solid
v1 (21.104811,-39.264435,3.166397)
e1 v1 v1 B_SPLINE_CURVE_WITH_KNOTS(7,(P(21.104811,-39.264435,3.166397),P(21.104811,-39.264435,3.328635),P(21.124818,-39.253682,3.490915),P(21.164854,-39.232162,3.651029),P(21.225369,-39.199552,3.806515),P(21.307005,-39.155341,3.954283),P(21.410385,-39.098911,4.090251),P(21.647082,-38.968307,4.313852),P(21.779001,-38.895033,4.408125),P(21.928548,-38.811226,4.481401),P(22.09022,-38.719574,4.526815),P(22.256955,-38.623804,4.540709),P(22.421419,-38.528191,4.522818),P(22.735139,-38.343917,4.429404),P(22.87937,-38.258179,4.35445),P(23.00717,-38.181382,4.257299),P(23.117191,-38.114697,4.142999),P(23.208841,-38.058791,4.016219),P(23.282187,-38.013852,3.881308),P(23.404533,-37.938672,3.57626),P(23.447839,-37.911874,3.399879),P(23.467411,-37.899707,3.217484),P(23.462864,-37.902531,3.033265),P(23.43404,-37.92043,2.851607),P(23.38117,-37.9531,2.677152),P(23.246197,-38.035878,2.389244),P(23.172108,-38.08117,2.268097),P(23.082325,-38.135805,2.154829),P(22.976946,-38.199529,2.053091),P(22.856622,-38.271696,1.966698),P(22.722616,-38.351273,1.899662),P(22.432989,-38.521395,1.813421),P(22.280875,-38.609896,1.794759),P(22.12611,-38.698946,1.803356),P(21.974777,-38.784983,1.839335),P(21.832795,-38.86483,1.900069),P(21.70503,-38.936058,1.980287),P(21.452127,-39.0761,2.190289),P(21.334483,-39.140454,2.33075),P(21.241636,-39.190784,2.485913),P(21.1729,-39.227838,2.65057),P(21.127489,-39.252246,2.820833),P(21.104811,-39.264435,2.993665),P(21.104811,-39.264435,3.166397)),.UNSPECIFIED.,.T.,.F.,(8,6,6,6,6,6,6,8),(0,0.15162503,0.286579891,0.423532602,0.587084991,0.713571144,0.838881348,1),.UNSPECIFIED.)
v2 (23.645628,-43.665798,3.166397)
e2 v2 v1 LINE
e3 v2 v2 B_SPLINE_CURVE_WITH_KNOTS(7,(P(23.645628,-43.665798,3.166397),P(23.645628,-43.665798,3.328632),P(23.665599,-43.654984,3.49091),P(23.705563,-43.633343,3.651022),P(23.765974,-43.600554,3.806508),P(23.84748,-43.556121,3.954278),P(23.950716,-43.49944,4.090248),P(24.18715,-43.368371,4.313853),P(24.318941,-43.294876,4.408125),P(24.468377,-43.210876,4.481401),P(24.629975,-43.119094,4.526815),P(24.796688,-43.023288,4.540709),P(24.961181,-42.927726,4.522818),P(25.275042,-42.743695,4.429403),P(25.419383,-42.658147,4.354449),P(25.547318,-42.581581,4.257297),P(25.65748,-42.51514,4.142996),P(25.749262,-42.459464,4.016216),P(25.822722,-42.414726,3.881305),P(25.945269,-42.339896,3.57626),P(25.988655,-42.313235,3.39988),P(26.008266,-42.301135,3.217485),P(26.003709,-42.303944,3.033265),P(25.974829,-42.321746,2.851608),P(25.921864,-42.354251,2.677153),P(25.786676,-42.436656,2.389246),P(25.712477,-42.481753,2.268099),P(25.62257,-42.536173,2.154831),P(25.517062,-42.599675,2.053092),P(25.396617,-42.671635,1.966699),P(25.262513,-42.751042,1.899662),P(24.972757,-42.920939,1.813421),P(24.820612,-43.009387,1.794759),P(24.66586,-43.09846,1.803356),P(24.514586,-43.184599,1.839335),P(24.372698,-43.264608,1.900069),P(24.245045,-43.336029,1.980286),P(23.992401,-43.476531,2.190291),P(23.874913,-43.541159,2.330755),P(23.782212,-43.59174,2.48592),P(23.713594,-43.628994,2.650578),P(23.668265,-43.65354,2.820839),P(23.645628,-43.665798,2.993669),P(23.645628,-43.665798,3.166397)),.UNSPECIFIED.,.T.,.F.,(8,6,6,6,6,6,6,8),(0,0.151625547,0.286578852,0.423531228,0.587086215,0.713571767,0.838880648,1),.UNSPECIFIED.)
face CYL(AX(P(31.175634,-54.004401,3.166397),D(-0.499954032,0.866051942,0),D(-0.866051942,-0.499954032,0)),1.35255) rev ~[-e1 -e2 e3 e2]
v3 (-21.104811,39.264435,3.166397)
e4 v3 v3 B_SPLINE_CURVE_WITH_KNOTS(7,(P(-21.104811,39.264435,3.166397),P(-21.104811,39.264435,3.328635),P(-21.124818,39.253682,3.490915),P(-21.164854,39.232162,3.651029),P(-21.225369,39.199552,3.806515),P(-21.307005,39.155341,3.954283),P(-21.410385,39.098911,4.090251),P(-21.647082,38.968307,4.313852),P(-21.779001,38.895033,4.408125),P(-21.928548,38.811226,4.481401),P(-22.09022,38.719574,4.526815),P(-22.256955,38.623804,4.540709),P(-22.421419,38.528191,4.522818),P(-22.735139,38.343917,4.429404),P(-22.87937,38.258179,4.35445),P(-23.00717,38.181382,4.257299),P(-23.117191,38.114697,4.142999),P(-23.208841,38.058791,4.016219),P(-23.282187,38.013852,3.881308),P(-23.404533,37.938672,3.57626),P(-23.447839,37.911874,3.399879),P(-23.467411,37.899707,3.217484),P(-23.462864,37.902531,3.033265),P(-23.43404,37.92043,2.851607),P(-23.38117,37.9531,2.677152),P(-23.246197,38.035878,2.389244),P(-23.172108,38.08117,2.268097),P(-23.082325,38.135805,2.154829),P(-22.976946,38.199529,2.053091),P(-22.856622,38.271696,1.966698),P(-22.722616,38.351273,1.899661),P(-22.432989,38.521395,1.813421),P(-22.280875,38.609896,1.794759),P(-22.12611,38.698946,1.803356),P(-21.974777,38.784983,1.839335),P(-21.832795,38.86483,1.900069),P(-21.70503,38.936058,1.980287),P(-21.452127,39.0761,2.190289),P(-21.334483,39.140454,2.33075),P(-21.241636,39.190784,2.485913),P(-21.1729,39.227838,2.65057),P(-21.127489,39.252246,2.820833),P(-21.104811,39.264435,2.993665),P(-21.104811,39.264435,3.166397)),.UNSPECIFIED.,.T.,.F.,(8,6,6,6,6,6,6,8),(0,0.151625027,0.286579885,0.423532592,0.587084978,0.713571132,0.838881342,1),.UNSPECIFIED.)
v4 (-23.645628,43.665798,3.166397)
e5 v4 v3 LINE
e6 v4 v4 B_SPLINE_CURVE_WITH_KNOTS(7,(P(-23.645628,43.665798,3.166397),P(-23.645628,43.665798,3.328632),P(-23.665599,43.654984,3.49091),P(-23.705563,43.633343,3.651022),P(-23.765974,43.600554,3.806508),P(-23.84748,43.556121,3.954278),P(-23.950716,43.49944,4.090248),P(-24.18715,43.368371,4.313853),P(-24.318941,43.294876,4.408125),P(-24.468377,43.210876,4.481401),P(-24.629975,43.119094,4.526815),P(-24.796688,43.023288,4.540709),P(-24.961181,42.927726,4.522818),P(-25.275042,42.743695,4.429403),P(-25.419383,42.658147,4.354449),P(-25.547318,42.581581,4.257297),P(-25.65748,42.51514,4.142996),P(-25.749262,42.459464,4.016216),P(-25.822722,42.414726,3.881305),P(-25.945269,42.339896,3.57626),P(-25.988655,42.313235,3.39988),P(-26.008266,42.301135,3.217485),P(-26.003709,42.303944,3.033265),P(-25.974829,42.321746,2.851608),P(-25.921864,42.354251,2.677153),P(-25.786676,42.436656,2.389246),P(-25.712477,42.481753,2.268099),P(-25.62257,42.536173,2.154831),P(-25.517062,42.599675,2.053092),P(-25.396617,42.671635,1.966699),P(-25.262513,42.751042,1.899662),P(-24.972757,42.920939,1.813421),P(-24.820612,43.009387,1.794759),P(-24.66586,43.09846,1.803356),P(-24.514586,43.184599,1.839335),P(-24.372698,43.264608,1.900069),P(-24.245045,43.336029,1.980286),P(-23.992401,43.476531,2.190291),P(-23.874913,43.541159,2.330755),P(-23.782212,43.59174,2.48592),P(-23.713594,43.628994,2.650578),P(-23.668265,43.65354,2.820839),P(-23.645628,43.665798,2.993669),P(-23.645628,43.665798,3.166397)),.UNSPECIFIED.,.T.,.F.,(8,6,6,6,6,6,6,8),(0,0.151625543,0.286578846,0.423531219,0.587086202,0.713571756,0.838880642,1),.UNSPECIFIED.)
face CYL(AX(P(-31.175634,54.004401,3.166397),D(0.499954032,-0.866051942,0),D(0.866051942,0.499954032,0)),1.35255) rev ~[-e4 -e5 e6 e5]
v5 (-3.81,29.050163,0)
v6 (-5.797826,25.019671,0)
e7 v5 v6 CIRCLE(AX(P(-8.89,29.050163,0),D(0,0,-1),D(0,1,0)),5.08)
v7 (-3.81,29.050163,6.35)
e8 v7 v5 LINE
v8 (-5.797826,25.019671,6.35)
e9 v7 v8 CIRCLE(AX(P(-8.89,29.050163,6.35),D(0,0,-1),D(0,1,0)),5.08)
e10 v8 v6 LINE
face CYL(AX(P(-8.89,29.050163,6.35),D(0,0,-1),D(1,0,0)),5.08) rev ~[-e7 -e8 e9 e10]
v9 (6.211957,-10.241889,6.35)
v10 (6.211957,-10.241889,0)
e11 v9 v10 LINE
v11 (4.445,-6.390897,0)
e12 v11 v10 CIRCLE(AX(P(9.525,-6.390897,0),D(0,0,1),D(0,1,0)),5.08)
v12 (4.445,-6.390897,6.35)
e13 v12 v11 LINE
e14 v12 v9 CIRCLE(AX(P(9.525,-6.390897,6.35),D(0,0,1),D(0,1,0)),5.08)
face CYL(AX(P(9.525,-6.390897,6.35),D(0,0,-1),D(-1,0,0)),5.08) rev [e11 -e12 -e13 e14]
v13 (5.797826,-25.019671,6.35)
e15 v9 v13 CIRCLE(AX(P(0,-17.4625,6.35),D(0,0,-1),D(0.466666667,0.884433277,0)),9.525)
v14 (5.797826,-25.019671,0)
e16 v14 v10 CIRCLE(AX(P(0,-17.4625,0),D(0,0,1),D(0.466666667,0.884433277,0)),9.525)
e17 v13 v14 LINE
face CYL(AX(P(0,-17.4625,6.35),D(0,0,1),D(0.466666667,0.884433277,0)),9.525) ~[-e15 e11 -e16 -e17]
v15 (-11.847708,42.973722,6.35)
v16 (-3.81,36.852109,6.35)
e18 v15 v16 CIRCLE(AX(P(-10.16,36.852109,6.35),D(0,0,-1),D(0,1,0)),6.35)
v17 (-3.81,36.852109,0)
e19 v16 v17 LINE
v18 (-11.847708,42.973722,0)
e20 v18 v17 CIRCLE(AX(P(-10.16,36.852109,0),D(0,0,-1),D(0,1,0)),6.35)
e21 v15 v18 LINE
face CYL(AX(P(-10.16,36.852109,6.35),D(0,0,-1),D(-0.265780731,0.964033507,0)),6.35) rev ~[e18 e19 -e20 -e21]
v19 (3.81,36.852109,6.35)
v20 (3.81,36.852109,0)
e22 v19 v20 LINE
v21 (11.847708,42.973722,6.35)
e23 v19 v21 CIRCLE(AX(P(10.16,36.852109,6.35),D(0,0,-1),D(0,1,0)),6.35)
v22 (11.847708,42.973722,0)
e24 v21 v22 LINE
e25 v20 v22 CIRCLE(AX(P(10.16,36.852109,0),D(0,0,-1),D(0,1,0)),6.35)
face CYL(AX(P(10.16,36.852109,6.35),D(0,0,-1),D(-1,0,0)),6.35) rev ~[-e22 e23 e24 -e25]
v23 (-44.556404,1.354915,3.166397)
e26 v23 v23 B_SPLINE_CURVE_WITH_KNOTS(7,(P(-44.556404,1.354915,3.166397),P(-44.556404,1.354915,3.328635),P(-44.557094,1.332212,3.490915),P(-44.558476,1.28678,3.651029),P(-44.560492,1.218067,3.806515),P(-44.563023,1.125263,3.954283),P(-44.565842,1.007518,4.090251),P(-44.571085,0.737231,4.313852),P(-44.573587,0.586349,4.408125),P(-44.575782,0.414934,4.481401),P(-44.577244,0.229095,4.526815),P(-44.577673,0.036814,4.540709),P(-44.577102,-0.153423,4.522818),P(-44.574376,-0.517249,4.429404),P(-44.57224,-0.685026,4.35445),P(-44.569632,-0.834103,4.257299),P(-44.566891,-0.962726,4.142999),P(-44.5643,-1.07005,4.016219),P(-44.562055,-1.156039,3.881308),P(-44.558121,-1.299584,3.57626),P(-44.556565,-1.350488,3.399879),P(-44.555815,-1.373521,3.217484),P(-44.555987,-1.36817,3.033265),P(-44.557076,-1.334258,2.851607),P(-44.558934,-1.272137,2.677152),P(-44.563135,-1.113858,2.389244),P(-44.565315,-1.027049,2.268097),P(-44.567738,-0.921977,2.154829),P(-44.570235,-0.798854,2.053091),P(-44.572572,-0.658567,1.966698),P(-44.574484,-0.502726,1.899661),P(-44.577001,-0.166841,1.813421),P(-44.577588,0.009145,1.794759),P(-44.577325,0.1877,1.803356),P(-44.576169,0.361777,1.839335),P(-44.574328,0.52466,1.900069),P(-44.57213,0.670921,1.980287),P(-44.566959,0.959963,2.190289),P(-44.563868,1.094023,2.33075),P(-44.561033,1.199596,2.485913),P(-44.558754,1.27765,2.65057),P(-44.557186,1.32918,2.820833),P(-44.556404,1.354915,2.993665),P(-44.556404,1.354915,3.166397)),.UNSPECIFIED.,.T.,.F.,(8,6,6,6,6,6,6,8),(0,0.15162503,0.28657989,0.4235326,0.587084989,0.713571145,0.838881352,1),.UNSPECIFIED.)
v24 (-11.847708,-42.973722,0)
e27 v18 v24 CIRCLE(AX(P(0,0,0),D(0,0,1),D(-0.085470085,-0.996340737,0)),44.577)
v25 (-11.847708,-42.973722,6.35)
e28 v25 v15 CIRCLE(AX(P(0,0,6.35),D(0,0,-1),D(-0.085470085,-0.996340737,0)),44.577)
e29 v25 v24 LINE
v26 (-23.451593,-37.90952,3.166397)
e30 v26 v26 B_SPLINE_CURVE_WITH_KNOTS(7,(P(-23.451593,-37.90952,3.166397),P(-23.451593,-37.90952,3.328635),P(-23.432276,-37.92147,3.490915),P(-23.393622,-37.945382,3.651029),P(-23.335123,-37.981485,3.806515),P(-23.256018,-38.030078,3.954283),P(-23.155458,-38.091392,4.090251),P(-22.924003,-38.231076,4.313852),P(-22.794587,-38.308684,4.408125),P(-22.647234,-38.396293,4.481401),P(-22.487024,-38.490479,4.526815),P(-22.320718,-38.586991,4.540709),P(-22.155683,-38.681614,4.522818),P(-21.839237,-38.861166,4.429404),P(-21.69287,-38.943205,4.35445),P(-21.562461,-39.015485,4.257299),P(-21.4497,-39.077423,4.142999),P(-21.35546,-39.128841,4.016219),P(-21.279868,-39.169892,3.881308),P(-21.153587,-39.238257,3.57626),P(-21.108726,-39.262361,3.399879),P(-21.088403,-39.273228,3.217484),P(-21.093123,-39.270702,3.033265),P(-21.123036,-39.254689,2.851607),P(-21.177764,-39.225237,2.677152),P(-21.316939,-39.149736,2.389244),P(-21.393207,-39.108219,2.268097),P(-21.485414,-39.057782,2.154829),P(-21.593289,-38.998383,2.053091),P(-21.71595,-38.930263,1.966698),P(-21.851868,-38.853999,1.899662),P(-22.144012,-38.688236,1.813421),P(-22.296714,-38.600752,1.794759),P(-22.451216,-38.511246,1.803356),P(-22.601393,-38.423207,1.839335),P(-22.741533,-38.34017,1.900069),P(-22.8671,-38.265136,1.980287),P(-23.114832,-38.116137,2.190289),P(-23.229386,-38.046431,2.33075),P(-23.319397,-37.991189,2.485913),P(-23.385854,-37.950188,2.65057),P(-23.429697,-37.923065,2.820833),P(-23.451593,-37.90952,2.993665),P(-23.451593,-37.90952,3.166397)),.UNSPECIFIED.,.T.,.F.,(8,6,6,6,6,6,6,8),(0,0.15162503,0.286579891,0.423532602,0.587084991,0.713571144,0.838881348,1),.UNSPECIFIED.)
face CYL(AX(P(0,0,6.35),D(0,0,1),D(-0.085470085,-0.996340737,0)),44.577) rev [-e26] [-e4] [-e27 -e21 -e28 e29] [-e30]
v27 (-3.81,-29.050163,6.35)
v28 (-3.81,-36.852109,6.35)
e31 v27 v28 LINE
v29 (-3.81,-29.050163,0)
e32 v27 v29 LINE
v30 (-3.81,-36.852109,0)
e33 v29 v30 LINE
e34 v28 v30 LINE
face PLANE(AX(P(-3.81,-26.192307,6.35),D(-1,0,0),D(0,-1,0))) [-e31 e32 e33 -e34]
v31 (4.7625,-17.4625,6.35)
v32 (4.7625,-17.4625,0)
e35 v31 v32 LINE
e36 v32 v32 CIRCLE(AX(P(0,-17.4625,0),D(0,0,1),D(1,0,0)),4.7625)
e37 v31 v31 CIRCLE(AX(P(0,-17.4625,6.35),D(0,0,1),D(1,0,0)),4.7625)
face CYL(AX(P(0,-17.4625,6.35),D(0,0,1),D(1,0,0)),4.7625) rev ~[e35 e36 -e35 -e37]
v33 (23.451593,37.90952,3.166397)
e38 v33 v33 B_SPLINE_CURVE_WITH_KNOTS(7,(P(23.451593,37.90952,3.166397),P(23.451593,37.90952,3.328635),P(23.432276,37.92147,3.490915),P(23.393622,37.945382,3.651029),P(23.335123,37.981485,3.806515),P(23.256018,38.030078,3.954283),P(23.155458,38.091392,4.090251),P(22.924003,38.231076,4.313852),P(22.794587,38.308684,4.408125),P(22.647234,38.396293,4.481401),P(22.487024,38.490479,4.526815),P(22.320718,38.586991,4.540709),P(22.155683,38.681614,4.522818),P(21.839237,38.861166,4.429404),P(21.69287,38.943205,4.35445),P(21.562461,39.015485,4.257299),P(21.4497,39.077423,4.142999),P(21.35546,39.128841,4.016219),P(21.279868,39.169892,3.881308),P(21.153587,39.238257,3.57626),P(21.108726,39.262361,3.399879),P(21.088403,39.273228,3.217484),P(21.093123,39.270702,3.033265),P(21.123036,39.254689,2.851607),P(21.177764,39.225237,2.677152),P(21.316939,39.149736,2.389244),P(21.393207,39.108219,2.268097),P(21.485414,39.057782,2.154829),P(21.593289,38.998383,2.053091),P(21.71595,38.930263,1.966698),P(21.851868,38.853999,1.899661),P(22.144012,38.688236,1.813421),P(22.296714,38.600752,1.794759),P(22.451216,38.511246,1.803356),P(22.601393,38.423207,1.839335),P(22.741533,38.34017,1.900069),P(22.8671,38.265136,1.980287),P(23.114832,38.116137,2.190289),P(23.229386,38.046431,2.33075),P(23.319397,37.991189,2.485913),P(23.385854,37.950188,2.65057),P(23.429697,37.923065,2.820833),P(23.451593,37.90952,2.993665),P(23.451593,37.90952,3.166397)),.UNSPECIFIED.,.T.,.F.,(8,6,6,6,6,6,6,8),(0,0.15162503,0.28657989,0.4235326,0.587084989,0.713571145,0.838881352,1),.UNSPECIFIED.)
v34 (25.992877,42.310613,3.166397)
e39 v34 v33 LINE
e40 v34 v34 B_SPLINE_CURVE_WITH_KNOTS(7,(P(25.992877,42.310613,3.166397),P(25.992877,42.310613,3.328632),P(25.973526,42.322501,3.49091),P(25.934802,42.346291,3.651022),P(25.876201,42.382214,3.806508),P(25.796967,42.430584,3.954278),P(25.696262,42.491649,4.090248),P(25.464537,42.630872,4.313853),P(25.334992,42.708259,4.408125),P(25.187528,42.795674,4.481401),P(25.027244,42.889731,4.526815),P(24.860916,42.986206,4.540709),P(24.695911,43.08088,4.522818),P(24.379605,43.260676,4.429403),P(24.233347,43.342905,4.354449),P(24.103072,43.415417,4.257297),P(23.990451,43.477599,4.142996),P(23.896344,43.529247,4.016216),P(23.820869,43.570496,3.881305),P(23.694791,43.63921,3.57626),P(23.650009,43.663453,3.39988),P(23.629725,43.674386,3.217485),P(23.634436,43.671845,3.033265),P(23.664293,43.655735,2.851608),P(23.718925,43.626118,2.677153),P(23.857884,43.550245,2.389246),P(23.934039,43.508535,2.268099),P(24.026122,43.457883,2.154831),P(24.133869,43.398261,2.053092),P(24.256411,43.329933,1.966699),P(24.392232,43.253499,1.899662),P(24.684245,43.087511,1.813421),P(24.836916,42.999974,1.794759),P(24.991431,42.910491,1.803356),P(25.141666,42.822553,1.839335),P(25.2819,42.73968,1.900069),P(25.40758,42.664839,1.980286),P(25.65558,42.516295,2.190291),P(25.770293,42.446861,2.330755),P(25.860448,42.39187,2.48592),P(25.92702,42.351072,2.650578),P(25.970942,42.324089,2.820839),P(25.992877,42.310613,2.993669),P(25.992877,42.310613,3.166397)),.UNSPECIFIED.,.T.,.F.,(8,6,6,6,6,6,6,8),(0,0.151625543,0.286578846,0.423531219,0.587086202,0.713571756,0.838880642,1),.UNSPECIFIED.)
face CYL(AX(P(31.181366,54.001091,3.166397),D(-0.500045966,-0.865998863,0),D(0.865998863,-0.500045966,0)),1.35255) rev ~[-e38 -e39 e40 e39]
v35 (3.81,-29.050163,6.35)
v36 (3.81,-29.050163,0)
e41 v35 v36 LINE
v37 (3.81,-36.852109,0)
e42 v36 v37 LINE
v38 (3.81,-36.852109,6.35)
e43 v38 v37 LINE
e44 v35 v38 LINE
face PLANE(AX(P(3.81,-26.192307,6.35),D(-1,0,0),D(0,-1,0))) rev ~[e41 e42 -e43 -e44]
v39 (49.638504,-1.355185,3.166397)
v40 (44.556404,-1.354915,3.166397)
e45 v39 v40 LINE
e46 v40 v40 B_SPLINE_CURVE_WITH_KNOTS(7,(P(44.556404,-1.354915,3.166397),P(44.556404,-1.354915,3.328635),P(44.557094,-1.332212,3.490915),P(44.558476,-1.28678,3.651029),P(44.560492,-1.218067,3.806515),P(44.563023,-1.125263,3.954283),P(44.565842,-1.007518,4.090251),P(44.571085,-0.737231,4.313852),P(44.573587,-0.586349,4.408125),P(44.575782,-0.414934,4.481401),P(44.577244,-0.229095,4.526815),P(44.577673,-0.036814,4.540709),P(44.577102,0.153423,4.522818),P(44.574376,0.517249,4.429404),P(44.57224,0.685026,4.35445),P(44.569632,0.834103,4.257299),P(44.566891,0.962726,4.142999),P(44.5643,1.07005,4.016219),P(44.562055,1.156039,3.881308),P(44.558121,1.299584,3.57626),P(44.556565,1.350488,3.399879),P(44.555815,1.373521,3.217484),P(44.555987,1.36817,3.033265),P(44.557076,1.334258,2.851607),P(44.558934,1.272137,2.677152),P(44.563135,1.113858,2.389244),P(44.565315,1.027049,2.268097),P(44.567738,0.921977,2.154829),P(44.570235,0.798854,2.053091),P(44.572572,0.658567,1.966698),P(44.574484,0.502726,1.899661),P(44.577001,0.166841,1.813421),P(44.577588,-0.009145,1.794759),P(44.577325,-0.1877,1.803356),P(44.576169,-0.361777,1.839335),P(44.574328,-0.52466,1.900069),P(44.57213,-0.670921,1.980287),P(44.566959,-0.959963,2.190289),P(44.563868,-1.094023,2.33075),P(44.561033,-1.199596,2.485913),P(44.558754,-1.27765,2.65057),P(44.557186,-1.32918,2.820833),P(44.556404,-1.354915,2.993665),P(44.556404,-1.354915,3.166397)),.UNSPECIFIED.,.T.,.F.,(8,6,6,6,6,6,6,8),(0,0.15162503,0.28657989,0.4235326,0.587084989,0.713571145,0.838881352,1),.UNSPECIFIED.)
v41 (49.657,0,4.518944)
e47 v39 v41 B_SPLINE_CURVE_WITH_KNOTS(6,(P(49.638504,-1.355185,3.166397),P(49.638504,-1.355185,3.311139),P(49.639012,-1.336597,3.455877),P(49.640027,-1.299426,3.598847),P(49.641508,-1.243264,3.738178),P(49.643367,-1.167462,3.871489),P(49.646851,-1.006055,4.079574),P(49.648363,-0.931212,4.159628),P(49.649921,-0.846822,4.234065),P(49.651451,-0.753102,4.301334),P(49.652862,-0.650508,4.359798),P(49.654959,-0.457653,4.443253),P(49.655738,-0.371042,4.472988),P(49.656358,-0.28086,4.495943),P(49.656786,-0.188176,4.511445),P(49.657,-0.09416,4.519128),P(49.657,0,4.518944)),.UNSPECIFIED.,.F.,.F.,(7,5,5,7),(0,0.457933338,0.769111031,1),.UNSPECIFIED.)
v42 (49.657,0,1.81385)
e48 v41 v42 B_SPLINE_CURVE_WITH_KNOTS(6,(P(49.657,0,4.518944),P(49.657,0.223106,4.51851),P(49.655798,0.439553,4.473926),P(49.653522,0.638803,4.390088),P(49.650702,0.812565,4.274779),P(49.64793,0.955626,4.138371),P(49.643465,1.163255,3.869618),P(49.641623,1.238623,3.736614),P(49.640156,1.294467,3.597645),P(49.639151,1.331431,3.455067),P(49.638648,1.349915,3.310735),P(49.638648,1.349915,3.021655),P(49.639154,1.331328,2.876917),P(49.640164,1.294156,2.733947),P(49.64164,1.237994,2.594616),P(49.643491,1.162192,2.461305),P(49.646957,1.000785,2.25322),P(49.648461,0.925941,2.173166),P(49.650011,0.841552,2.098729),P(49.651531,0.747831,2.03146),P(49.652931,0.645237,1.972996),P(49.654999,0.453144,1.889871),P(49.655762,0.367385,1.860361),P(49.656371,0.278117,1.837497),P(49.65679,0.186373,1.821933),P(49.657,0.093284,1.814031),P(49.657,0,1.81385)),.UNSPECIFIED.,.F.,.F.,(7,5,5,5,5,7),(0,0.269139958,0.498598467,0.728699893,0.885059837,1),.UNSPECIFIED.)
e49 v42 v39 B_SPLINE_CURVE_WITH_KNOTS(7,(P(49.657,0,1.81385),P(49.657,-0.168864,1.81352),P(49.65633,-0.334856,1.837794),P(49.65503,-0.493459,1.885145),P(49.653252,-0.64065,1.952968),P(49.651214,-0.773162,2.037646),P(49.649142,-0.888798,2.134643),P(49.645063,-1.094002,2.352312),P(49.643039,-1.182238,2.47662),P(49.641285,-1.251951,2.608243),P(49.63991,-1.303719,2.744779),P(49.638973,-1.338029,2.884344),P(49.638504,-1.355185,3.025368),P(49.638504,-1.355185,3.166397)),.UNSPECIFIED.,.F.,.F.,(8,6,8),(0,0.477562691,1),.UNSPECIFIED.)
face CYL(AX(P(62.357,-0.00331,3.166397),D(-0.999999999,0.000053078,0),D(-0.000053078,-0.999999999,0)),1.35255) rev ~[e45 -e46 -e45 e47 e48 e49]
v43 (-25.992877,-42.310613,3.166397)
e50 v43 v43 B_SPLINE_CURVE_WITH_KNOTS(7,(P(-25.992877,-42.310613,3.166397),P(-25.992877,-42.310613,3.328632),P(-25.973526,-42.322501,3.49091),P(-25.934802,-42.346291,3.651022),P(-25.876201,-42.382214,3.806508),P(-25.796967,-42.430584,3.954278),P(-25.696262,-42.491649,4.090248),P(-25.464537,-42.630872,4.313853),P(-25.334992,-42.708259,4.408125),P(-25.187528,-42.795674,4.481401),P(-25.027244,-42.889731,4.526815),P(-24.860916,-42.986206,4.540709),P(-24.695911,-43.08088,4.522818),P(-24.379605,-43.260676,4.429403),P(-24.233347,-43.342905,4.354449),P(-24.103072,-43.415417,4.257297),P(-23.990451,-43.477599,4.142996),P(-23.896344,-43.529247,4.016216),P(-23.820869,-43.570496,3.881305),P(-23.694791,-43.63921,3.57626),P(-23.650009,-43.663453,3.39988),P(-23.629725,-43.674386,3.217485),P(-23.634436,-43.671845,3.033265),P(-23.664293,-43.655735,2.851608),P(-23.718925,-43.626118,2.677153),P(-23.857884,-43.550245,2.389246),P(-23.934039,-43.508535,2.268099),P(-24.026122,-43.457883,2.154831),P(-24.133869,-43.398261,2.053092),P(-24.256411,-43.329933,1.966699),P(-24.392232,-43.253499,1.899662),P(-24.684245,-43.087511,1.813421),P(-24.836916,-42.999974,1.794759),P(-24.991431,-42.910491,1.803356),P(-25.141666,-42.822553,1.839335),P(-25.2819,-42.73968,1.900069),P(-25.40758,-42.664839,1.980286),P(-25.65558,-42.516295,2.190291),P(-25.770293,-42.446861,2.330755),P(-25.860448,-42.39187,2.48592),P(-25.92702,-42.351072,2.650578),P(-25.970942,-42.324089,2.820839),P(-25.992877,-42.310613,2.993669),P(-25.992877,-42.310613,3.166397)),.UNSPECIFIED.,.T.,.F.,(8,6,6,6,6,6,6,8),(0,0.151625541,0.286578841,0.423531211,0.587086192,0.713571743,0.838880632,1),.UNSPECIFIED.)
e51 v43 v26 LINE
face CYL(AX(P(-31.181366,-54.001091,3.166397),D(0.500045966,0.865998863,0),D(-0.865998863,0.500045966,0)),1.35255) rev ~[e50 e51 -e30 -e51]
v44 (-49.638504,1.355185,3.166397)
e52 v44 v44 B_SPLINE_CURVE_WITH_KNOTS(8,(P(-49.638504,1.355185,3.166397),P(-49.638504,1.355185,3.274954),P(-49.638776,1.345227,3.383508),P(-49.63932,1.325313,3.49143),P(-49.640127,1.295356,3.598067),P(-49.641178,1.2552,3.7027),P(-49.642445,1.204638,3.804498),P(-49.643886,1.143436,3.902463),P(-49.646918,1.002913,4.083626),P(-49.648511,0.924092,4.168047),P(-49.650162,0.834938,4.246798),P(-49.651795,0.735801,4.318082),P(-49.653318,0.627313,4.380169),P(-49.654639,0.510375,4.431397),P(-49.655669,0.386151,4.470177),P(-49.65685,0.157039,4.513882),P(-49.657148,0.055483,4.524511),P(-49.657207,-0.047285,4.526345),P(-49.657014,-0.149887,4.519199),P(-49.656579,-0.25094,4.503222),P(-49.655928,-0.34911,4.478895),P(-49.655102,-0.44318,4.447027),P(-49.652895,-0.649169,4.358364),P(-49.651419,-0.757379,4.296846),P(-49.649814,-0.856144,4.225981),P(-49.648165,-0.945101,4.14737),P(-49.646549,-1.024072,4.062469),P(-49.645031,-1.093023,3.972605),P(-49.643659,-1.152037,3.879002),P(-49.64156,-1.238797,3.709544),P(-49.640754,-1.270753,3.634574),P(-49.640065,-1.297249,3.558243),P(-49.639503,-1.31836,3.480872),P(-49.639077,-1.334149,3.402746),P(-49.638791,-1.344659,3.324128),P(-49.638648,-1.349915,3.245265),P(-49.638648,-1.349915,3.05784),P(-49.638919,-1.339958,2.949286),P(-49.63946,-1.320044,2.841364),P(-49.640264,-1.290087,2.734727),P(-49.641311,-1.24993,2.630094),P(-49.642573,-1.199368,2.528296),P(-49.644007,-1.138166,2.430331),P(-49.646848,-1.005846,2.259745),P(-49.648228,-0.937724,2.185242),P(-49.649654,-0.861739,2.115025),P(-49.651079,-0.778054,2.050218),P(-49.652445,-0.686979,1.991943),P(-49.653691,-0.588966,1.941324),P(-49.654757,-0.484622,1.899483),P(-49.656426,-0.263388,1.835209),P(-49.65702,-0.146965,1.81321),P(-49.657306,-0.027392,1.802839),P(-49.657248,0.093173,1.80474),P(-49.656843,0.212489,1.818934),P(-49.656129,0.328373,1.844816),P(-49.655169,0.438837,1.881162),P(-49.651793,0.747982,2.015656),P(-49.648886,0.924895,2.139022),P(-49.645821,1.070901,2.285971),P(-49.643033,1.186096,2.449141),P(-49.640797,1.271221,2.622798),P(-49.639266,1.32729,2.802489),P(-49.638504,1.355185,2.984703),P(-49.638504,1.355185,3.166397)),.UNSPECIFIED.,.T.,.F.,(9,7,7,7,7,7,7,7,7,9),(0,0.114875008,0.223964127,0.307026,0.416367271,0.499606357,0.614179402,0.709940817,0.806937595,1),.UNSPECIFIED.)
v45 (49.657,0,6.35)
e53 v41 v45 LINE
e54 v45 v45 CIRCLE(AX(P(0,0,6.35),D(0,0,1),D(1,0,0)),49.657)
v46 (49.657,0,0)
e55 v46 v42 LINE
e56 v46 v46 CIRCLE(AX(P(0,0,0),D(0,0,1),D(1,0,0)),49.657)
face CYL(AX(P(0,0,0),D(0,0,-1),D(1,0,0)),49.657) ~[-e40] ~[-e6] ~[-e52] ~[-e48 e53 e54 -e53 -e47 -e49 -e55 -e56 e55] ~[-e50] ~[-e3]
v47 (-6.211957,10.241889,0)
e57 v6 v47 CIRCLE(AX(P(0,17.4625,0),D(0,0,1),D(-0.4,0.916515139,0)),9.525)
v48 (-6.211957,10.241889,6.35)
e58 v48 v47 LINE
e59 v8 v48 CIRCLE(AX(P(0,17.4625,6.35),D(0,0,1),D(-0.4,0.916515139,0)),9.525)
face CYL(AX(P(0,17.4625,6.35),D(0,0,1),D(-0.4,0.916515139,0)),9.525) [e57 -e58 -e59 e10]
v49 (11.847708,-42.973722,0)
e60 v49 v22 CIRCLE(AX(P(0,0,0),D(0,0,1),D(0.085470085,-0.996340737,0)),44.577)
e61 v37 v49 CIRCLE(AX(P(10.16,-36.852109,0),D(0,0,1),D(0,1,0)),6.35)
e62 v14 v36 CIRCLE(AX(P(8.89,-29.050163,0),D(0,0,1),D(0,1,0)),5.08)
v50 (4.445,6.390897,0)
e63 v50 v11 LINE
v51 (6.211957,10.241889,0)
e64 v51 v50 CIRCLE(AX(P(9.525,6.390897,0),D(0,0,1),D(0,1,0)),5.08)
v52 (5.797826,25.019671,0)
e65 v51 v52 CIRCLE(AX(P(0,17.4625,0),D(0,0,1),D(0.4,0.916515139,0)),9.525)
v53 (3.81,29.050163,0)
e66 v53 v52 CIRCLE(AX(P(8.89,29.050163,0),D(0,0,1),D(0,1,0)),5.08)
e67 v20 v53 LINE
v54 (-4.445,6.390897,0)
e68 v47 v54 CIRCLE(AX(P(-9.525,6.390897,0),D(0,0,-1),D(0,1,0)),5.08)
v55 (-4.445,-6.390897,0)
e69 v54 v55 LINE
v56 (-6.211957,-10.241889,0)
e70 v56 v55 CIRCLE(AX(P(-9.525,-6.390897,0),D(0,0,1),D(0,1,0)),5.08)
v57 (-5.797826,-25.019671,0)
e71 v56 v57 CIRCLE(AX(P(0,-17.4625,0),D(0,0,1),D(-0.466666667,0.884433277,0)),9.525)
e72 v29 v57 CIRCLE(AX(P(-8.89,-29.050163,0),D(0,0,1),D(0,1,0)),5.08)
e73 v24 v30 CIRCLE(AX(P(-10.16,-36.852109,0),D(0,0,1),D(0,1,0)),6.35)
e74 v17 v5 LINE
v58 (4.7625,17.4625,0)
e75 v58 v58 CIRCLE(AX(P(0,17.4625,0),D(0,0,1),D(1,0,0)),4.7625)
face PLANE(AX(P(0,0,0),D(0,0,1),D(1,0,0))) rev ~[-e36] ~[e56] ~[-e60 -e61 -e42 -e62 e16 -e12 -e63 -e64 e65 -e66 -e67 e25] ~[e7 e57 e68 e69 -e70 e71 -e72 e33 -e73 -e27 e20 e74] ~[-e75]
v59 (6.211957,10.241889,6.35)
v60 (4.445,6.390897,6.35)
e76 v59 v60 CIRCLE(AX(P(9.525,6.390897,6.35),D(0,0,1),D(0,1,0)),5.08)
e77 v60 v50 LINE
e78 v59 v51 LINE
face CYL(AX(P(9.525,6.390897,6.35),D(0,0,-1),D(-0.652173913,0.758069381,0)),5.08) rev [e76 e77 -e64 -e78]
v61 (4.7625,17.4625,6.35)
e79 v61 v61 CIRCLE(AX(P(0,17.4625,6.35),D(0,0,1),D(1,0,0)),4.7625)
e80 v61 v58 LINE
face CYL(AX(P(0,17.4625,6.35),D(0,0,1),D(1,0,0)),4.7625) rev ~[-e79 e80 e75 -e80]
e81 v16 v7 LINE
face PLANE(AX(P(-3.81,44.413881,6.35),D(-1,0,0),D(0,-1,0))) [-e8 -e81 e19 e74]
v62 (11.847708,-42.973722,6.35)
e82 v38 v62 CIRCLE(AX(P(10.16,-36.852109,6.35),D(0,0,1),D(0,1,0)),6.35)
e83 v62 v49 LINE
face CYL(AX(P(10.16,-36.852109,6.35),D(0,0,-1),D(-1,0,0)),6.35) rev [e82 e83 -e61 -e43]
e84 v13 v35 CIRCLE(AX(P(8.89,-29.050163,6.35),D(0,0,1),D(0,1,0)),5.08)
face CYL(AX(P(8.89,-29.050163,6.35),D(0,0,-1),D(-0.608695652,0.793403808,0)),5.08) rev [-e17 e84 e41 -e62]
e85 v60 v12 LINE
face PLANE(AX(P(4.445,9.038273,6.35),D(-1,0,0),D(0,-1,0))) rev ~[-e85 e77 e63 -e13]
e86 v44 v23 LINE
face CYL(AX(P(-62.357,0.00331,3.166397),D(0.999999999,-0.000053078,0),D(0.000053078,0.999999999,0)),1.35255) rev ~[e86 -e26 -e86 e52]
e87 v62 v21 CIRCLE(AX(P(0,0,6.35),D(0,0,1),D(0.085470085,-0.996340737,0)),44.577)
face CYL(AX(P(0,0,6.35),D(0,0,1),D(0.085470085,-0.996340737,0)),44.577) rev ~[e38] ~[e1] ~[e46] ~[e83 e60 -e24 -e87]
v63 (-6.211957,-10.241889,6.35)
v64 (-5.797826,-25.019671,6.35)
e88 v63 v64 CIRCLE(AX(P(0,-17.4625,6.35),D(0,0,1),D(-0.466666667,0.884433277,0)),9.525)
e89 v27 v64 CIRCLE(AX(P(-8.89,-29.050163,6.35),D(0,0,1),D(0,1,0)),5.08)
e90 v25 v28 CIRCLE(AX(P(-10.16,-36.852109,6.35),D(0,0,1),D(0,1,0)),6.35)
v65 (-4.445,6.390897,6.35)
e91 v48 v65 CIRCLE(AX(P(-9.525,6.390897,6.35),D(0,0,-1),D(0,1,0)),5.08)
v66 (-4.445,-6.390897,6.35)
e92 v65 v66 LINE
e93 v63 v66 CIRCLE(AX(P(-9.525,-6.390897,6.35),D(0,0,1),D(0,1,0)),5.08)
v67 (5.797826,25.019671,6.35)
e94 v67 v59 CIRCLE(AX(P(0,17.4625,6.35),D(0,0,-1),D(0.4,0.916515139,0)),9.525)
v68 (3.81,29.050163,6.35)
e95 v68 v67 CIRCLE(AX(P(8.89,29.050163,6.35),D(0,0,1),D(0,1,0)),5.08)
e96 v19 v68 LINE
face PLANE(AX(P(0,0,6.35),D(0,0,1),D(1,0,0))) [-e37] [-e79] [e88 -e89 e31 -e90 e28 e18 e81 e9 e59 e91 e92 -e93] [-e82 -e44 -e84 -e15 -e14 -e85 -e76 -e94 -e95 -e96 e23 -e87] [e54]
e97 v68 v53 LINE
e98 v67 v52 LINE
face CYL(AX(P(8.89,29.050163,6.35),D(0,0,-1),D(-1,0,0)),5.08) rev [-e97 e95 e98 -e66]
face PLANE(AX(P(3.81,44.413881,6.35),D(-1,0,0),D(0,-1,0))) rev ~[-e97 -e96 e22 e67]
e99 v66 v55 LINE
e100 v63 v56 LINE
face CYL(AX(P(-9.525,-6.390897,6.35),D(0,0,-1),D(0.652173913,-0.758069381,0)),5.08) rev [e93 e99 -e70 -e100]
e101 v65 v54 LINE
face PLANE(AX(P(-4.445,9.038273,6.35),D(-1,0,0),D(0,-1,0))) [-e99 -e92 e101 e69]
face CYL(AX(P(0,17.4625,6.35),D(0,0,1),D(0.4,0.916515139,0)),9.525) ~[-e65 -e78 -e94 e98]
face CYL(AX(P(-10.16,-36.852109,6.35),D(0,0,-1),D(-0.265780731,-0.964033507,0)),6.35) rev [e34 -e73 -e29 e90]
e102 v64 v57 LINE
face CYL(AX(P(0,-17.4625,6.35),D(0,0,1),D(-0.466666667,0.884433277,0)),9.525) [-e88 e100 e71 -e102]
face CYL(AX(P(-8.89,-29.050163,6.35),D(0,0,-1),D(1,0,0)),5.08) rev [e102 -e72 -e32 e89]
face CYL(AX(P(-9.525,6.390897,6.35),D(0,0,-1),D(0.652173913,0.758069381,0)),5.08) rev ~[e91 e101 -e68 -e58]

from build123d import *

# Parameters (mm, degrees)
SKETCH1_R                 = 49.657
BOSS_EXTRUDE1_DEPTH       = 6.35
CUT_EXTRUDE1_DEPTH        = 71.512111002
FILLET1_R                 = 6.35
FILLET2_R                 = 5.08
SKETCH4_R                 = 4.7625
CUT_EXTRUDE2_DEPTH        = 71.512111002
F_6_32_TAPPED_HOLE1_D     = 2.7051
F_6_32_TAPPED_HOLE1_DEPTH = 12.7
CIRPATTERN1_COUNT         = 6


with BuildPart() as part:
    # Sketch1 → Boss-Extrude1 (new body)
    with BuildSketch(Plane.XY):
        Circle(SKETCH1_R)
    extrude(amount=BOSS_EXTRUDE1_DEPTH)

    # Sketch3 → Cut-Extrude1 (cut, through all)
    with BuildSketch(Plane.XY.offset(6.35)):
        with BuildLine():
            Line((-3.81, 44.41388104), (-3.81, 26.192306699))
            ThreePointArc((-3.81, 26.192306699), (-9.518480656, 17.814850668), (-4.445, 9.038273032))
            Line((-4.445, 9.038273032), (-4.445, -9.038273032))
            ThreePointArc((-4.445, -9.038273032), (-9.518480656, -17.814850668), (-3.81, -26.192306699))
            Line((-3.81, -26.192306699), (-3.81, -44.41388104))
            ThreePointArc((-3.81, -44.41388104), (-44.577, 0), (-3.81, 44.41388104))
        make_face()
        with BuildLine():
            Line((3.81, 44.41388104), (3.81, 26.192306699))
            ThreePointArc((3.81, 26.192306699), (9.518480656, 17.814850668), (4.445, 9.038273032))
            Line((4.445, 9.038273032), (4.445, -9.038273032))
            ThreePointArc((4.445, -9.038273032), (9.518480656, -17.814850668), (3.81, -26.192306699))
            Line((3.81, -26.192306699), (3.81, -44.41388104))
            ThreePointArc((3.81, -44.41388104), (44.577, 0), (3.81, 44.41388104))
        make_face()
    extrude(amount=-CUT_EXTRUDE1_DEPTH, mode=Mode.SUBTRACT)

    # Fillet1
    fillet1_edges = [part.edges().sort_by_distance(p)[0] for p in [
        (-3.81, 44.41388104, 3.175),
        (-3.81, -44.41388104, 3.175),
        (3.81, 44.41388104, 3.175),
        (3.81, -44.41388104, 3.175),
    ]]
    fillet(fillet1_edges, radius=FILLET1_R)

    # Fillet2
    fillet2_edges = [part.edges().sort_by_distance(p)[0] for p in [
        (-3.81, 26.192306699, 3.175),
        (-4.445, 9.038273032, 3.175),
        (-4.445, -9.038273032, 3.175),
        (-3.81, -26.192306699, 3.175),
        (4.445, 9.038273032, 3.175),
        (3.81, 26.192306699, 3.175),
        (3.81, -26.192306699, 3.175),
        (4.445, -9.038273032, 3.175),
    ]]
    fillet(fillet2_edges, radius=FILLET2_R)

    # Sketch4 → Cut-Extrude2 (cut, through all)
    with BuildSketch(Plane.XY.offset(6.35)):
        with Locations((0, 17.4625)):
            Circle(SKETCH4_R)
        with Locations((0, -17.4625)):
            Circle(SKETCH4_R)
    extrude(amount=-CUT_EXTRUDE2_DEPTH, mode=Mode.SUBTRACT)

    # #6-32 Tapped Hole1
    with Locations(Plane(origin=(49.65699993, -0.002635703, 3.166396975), x_dir=(5.3078169e-05, 0.999999998591, 0), z_dir=(0.999999998591, -5.3078169e-05, 0))):
        with Locations((0, 0)):
            f_6_32_tapped_hole1 = Hole(F_6_32_TAPPED_HOLE1_D / 2, depth=F_6_32_TAPPED_HOLE1_DEPTH)

    # CirPattern1: #6-32 Tapped Hole1 ×6 about axis
    cirpattern1_axis = Axis((0, 0, 6.35), (0, 0, -1))
    for i in range(1, CIRPATTERN1_COUNT):
        add(f_6_32_tapped_hole1.rotate(cirpattern1_axis, i * 360 / CIRPATTERN1_COUNT), mode=Mode.SUBTRACT)


solid = part.part
